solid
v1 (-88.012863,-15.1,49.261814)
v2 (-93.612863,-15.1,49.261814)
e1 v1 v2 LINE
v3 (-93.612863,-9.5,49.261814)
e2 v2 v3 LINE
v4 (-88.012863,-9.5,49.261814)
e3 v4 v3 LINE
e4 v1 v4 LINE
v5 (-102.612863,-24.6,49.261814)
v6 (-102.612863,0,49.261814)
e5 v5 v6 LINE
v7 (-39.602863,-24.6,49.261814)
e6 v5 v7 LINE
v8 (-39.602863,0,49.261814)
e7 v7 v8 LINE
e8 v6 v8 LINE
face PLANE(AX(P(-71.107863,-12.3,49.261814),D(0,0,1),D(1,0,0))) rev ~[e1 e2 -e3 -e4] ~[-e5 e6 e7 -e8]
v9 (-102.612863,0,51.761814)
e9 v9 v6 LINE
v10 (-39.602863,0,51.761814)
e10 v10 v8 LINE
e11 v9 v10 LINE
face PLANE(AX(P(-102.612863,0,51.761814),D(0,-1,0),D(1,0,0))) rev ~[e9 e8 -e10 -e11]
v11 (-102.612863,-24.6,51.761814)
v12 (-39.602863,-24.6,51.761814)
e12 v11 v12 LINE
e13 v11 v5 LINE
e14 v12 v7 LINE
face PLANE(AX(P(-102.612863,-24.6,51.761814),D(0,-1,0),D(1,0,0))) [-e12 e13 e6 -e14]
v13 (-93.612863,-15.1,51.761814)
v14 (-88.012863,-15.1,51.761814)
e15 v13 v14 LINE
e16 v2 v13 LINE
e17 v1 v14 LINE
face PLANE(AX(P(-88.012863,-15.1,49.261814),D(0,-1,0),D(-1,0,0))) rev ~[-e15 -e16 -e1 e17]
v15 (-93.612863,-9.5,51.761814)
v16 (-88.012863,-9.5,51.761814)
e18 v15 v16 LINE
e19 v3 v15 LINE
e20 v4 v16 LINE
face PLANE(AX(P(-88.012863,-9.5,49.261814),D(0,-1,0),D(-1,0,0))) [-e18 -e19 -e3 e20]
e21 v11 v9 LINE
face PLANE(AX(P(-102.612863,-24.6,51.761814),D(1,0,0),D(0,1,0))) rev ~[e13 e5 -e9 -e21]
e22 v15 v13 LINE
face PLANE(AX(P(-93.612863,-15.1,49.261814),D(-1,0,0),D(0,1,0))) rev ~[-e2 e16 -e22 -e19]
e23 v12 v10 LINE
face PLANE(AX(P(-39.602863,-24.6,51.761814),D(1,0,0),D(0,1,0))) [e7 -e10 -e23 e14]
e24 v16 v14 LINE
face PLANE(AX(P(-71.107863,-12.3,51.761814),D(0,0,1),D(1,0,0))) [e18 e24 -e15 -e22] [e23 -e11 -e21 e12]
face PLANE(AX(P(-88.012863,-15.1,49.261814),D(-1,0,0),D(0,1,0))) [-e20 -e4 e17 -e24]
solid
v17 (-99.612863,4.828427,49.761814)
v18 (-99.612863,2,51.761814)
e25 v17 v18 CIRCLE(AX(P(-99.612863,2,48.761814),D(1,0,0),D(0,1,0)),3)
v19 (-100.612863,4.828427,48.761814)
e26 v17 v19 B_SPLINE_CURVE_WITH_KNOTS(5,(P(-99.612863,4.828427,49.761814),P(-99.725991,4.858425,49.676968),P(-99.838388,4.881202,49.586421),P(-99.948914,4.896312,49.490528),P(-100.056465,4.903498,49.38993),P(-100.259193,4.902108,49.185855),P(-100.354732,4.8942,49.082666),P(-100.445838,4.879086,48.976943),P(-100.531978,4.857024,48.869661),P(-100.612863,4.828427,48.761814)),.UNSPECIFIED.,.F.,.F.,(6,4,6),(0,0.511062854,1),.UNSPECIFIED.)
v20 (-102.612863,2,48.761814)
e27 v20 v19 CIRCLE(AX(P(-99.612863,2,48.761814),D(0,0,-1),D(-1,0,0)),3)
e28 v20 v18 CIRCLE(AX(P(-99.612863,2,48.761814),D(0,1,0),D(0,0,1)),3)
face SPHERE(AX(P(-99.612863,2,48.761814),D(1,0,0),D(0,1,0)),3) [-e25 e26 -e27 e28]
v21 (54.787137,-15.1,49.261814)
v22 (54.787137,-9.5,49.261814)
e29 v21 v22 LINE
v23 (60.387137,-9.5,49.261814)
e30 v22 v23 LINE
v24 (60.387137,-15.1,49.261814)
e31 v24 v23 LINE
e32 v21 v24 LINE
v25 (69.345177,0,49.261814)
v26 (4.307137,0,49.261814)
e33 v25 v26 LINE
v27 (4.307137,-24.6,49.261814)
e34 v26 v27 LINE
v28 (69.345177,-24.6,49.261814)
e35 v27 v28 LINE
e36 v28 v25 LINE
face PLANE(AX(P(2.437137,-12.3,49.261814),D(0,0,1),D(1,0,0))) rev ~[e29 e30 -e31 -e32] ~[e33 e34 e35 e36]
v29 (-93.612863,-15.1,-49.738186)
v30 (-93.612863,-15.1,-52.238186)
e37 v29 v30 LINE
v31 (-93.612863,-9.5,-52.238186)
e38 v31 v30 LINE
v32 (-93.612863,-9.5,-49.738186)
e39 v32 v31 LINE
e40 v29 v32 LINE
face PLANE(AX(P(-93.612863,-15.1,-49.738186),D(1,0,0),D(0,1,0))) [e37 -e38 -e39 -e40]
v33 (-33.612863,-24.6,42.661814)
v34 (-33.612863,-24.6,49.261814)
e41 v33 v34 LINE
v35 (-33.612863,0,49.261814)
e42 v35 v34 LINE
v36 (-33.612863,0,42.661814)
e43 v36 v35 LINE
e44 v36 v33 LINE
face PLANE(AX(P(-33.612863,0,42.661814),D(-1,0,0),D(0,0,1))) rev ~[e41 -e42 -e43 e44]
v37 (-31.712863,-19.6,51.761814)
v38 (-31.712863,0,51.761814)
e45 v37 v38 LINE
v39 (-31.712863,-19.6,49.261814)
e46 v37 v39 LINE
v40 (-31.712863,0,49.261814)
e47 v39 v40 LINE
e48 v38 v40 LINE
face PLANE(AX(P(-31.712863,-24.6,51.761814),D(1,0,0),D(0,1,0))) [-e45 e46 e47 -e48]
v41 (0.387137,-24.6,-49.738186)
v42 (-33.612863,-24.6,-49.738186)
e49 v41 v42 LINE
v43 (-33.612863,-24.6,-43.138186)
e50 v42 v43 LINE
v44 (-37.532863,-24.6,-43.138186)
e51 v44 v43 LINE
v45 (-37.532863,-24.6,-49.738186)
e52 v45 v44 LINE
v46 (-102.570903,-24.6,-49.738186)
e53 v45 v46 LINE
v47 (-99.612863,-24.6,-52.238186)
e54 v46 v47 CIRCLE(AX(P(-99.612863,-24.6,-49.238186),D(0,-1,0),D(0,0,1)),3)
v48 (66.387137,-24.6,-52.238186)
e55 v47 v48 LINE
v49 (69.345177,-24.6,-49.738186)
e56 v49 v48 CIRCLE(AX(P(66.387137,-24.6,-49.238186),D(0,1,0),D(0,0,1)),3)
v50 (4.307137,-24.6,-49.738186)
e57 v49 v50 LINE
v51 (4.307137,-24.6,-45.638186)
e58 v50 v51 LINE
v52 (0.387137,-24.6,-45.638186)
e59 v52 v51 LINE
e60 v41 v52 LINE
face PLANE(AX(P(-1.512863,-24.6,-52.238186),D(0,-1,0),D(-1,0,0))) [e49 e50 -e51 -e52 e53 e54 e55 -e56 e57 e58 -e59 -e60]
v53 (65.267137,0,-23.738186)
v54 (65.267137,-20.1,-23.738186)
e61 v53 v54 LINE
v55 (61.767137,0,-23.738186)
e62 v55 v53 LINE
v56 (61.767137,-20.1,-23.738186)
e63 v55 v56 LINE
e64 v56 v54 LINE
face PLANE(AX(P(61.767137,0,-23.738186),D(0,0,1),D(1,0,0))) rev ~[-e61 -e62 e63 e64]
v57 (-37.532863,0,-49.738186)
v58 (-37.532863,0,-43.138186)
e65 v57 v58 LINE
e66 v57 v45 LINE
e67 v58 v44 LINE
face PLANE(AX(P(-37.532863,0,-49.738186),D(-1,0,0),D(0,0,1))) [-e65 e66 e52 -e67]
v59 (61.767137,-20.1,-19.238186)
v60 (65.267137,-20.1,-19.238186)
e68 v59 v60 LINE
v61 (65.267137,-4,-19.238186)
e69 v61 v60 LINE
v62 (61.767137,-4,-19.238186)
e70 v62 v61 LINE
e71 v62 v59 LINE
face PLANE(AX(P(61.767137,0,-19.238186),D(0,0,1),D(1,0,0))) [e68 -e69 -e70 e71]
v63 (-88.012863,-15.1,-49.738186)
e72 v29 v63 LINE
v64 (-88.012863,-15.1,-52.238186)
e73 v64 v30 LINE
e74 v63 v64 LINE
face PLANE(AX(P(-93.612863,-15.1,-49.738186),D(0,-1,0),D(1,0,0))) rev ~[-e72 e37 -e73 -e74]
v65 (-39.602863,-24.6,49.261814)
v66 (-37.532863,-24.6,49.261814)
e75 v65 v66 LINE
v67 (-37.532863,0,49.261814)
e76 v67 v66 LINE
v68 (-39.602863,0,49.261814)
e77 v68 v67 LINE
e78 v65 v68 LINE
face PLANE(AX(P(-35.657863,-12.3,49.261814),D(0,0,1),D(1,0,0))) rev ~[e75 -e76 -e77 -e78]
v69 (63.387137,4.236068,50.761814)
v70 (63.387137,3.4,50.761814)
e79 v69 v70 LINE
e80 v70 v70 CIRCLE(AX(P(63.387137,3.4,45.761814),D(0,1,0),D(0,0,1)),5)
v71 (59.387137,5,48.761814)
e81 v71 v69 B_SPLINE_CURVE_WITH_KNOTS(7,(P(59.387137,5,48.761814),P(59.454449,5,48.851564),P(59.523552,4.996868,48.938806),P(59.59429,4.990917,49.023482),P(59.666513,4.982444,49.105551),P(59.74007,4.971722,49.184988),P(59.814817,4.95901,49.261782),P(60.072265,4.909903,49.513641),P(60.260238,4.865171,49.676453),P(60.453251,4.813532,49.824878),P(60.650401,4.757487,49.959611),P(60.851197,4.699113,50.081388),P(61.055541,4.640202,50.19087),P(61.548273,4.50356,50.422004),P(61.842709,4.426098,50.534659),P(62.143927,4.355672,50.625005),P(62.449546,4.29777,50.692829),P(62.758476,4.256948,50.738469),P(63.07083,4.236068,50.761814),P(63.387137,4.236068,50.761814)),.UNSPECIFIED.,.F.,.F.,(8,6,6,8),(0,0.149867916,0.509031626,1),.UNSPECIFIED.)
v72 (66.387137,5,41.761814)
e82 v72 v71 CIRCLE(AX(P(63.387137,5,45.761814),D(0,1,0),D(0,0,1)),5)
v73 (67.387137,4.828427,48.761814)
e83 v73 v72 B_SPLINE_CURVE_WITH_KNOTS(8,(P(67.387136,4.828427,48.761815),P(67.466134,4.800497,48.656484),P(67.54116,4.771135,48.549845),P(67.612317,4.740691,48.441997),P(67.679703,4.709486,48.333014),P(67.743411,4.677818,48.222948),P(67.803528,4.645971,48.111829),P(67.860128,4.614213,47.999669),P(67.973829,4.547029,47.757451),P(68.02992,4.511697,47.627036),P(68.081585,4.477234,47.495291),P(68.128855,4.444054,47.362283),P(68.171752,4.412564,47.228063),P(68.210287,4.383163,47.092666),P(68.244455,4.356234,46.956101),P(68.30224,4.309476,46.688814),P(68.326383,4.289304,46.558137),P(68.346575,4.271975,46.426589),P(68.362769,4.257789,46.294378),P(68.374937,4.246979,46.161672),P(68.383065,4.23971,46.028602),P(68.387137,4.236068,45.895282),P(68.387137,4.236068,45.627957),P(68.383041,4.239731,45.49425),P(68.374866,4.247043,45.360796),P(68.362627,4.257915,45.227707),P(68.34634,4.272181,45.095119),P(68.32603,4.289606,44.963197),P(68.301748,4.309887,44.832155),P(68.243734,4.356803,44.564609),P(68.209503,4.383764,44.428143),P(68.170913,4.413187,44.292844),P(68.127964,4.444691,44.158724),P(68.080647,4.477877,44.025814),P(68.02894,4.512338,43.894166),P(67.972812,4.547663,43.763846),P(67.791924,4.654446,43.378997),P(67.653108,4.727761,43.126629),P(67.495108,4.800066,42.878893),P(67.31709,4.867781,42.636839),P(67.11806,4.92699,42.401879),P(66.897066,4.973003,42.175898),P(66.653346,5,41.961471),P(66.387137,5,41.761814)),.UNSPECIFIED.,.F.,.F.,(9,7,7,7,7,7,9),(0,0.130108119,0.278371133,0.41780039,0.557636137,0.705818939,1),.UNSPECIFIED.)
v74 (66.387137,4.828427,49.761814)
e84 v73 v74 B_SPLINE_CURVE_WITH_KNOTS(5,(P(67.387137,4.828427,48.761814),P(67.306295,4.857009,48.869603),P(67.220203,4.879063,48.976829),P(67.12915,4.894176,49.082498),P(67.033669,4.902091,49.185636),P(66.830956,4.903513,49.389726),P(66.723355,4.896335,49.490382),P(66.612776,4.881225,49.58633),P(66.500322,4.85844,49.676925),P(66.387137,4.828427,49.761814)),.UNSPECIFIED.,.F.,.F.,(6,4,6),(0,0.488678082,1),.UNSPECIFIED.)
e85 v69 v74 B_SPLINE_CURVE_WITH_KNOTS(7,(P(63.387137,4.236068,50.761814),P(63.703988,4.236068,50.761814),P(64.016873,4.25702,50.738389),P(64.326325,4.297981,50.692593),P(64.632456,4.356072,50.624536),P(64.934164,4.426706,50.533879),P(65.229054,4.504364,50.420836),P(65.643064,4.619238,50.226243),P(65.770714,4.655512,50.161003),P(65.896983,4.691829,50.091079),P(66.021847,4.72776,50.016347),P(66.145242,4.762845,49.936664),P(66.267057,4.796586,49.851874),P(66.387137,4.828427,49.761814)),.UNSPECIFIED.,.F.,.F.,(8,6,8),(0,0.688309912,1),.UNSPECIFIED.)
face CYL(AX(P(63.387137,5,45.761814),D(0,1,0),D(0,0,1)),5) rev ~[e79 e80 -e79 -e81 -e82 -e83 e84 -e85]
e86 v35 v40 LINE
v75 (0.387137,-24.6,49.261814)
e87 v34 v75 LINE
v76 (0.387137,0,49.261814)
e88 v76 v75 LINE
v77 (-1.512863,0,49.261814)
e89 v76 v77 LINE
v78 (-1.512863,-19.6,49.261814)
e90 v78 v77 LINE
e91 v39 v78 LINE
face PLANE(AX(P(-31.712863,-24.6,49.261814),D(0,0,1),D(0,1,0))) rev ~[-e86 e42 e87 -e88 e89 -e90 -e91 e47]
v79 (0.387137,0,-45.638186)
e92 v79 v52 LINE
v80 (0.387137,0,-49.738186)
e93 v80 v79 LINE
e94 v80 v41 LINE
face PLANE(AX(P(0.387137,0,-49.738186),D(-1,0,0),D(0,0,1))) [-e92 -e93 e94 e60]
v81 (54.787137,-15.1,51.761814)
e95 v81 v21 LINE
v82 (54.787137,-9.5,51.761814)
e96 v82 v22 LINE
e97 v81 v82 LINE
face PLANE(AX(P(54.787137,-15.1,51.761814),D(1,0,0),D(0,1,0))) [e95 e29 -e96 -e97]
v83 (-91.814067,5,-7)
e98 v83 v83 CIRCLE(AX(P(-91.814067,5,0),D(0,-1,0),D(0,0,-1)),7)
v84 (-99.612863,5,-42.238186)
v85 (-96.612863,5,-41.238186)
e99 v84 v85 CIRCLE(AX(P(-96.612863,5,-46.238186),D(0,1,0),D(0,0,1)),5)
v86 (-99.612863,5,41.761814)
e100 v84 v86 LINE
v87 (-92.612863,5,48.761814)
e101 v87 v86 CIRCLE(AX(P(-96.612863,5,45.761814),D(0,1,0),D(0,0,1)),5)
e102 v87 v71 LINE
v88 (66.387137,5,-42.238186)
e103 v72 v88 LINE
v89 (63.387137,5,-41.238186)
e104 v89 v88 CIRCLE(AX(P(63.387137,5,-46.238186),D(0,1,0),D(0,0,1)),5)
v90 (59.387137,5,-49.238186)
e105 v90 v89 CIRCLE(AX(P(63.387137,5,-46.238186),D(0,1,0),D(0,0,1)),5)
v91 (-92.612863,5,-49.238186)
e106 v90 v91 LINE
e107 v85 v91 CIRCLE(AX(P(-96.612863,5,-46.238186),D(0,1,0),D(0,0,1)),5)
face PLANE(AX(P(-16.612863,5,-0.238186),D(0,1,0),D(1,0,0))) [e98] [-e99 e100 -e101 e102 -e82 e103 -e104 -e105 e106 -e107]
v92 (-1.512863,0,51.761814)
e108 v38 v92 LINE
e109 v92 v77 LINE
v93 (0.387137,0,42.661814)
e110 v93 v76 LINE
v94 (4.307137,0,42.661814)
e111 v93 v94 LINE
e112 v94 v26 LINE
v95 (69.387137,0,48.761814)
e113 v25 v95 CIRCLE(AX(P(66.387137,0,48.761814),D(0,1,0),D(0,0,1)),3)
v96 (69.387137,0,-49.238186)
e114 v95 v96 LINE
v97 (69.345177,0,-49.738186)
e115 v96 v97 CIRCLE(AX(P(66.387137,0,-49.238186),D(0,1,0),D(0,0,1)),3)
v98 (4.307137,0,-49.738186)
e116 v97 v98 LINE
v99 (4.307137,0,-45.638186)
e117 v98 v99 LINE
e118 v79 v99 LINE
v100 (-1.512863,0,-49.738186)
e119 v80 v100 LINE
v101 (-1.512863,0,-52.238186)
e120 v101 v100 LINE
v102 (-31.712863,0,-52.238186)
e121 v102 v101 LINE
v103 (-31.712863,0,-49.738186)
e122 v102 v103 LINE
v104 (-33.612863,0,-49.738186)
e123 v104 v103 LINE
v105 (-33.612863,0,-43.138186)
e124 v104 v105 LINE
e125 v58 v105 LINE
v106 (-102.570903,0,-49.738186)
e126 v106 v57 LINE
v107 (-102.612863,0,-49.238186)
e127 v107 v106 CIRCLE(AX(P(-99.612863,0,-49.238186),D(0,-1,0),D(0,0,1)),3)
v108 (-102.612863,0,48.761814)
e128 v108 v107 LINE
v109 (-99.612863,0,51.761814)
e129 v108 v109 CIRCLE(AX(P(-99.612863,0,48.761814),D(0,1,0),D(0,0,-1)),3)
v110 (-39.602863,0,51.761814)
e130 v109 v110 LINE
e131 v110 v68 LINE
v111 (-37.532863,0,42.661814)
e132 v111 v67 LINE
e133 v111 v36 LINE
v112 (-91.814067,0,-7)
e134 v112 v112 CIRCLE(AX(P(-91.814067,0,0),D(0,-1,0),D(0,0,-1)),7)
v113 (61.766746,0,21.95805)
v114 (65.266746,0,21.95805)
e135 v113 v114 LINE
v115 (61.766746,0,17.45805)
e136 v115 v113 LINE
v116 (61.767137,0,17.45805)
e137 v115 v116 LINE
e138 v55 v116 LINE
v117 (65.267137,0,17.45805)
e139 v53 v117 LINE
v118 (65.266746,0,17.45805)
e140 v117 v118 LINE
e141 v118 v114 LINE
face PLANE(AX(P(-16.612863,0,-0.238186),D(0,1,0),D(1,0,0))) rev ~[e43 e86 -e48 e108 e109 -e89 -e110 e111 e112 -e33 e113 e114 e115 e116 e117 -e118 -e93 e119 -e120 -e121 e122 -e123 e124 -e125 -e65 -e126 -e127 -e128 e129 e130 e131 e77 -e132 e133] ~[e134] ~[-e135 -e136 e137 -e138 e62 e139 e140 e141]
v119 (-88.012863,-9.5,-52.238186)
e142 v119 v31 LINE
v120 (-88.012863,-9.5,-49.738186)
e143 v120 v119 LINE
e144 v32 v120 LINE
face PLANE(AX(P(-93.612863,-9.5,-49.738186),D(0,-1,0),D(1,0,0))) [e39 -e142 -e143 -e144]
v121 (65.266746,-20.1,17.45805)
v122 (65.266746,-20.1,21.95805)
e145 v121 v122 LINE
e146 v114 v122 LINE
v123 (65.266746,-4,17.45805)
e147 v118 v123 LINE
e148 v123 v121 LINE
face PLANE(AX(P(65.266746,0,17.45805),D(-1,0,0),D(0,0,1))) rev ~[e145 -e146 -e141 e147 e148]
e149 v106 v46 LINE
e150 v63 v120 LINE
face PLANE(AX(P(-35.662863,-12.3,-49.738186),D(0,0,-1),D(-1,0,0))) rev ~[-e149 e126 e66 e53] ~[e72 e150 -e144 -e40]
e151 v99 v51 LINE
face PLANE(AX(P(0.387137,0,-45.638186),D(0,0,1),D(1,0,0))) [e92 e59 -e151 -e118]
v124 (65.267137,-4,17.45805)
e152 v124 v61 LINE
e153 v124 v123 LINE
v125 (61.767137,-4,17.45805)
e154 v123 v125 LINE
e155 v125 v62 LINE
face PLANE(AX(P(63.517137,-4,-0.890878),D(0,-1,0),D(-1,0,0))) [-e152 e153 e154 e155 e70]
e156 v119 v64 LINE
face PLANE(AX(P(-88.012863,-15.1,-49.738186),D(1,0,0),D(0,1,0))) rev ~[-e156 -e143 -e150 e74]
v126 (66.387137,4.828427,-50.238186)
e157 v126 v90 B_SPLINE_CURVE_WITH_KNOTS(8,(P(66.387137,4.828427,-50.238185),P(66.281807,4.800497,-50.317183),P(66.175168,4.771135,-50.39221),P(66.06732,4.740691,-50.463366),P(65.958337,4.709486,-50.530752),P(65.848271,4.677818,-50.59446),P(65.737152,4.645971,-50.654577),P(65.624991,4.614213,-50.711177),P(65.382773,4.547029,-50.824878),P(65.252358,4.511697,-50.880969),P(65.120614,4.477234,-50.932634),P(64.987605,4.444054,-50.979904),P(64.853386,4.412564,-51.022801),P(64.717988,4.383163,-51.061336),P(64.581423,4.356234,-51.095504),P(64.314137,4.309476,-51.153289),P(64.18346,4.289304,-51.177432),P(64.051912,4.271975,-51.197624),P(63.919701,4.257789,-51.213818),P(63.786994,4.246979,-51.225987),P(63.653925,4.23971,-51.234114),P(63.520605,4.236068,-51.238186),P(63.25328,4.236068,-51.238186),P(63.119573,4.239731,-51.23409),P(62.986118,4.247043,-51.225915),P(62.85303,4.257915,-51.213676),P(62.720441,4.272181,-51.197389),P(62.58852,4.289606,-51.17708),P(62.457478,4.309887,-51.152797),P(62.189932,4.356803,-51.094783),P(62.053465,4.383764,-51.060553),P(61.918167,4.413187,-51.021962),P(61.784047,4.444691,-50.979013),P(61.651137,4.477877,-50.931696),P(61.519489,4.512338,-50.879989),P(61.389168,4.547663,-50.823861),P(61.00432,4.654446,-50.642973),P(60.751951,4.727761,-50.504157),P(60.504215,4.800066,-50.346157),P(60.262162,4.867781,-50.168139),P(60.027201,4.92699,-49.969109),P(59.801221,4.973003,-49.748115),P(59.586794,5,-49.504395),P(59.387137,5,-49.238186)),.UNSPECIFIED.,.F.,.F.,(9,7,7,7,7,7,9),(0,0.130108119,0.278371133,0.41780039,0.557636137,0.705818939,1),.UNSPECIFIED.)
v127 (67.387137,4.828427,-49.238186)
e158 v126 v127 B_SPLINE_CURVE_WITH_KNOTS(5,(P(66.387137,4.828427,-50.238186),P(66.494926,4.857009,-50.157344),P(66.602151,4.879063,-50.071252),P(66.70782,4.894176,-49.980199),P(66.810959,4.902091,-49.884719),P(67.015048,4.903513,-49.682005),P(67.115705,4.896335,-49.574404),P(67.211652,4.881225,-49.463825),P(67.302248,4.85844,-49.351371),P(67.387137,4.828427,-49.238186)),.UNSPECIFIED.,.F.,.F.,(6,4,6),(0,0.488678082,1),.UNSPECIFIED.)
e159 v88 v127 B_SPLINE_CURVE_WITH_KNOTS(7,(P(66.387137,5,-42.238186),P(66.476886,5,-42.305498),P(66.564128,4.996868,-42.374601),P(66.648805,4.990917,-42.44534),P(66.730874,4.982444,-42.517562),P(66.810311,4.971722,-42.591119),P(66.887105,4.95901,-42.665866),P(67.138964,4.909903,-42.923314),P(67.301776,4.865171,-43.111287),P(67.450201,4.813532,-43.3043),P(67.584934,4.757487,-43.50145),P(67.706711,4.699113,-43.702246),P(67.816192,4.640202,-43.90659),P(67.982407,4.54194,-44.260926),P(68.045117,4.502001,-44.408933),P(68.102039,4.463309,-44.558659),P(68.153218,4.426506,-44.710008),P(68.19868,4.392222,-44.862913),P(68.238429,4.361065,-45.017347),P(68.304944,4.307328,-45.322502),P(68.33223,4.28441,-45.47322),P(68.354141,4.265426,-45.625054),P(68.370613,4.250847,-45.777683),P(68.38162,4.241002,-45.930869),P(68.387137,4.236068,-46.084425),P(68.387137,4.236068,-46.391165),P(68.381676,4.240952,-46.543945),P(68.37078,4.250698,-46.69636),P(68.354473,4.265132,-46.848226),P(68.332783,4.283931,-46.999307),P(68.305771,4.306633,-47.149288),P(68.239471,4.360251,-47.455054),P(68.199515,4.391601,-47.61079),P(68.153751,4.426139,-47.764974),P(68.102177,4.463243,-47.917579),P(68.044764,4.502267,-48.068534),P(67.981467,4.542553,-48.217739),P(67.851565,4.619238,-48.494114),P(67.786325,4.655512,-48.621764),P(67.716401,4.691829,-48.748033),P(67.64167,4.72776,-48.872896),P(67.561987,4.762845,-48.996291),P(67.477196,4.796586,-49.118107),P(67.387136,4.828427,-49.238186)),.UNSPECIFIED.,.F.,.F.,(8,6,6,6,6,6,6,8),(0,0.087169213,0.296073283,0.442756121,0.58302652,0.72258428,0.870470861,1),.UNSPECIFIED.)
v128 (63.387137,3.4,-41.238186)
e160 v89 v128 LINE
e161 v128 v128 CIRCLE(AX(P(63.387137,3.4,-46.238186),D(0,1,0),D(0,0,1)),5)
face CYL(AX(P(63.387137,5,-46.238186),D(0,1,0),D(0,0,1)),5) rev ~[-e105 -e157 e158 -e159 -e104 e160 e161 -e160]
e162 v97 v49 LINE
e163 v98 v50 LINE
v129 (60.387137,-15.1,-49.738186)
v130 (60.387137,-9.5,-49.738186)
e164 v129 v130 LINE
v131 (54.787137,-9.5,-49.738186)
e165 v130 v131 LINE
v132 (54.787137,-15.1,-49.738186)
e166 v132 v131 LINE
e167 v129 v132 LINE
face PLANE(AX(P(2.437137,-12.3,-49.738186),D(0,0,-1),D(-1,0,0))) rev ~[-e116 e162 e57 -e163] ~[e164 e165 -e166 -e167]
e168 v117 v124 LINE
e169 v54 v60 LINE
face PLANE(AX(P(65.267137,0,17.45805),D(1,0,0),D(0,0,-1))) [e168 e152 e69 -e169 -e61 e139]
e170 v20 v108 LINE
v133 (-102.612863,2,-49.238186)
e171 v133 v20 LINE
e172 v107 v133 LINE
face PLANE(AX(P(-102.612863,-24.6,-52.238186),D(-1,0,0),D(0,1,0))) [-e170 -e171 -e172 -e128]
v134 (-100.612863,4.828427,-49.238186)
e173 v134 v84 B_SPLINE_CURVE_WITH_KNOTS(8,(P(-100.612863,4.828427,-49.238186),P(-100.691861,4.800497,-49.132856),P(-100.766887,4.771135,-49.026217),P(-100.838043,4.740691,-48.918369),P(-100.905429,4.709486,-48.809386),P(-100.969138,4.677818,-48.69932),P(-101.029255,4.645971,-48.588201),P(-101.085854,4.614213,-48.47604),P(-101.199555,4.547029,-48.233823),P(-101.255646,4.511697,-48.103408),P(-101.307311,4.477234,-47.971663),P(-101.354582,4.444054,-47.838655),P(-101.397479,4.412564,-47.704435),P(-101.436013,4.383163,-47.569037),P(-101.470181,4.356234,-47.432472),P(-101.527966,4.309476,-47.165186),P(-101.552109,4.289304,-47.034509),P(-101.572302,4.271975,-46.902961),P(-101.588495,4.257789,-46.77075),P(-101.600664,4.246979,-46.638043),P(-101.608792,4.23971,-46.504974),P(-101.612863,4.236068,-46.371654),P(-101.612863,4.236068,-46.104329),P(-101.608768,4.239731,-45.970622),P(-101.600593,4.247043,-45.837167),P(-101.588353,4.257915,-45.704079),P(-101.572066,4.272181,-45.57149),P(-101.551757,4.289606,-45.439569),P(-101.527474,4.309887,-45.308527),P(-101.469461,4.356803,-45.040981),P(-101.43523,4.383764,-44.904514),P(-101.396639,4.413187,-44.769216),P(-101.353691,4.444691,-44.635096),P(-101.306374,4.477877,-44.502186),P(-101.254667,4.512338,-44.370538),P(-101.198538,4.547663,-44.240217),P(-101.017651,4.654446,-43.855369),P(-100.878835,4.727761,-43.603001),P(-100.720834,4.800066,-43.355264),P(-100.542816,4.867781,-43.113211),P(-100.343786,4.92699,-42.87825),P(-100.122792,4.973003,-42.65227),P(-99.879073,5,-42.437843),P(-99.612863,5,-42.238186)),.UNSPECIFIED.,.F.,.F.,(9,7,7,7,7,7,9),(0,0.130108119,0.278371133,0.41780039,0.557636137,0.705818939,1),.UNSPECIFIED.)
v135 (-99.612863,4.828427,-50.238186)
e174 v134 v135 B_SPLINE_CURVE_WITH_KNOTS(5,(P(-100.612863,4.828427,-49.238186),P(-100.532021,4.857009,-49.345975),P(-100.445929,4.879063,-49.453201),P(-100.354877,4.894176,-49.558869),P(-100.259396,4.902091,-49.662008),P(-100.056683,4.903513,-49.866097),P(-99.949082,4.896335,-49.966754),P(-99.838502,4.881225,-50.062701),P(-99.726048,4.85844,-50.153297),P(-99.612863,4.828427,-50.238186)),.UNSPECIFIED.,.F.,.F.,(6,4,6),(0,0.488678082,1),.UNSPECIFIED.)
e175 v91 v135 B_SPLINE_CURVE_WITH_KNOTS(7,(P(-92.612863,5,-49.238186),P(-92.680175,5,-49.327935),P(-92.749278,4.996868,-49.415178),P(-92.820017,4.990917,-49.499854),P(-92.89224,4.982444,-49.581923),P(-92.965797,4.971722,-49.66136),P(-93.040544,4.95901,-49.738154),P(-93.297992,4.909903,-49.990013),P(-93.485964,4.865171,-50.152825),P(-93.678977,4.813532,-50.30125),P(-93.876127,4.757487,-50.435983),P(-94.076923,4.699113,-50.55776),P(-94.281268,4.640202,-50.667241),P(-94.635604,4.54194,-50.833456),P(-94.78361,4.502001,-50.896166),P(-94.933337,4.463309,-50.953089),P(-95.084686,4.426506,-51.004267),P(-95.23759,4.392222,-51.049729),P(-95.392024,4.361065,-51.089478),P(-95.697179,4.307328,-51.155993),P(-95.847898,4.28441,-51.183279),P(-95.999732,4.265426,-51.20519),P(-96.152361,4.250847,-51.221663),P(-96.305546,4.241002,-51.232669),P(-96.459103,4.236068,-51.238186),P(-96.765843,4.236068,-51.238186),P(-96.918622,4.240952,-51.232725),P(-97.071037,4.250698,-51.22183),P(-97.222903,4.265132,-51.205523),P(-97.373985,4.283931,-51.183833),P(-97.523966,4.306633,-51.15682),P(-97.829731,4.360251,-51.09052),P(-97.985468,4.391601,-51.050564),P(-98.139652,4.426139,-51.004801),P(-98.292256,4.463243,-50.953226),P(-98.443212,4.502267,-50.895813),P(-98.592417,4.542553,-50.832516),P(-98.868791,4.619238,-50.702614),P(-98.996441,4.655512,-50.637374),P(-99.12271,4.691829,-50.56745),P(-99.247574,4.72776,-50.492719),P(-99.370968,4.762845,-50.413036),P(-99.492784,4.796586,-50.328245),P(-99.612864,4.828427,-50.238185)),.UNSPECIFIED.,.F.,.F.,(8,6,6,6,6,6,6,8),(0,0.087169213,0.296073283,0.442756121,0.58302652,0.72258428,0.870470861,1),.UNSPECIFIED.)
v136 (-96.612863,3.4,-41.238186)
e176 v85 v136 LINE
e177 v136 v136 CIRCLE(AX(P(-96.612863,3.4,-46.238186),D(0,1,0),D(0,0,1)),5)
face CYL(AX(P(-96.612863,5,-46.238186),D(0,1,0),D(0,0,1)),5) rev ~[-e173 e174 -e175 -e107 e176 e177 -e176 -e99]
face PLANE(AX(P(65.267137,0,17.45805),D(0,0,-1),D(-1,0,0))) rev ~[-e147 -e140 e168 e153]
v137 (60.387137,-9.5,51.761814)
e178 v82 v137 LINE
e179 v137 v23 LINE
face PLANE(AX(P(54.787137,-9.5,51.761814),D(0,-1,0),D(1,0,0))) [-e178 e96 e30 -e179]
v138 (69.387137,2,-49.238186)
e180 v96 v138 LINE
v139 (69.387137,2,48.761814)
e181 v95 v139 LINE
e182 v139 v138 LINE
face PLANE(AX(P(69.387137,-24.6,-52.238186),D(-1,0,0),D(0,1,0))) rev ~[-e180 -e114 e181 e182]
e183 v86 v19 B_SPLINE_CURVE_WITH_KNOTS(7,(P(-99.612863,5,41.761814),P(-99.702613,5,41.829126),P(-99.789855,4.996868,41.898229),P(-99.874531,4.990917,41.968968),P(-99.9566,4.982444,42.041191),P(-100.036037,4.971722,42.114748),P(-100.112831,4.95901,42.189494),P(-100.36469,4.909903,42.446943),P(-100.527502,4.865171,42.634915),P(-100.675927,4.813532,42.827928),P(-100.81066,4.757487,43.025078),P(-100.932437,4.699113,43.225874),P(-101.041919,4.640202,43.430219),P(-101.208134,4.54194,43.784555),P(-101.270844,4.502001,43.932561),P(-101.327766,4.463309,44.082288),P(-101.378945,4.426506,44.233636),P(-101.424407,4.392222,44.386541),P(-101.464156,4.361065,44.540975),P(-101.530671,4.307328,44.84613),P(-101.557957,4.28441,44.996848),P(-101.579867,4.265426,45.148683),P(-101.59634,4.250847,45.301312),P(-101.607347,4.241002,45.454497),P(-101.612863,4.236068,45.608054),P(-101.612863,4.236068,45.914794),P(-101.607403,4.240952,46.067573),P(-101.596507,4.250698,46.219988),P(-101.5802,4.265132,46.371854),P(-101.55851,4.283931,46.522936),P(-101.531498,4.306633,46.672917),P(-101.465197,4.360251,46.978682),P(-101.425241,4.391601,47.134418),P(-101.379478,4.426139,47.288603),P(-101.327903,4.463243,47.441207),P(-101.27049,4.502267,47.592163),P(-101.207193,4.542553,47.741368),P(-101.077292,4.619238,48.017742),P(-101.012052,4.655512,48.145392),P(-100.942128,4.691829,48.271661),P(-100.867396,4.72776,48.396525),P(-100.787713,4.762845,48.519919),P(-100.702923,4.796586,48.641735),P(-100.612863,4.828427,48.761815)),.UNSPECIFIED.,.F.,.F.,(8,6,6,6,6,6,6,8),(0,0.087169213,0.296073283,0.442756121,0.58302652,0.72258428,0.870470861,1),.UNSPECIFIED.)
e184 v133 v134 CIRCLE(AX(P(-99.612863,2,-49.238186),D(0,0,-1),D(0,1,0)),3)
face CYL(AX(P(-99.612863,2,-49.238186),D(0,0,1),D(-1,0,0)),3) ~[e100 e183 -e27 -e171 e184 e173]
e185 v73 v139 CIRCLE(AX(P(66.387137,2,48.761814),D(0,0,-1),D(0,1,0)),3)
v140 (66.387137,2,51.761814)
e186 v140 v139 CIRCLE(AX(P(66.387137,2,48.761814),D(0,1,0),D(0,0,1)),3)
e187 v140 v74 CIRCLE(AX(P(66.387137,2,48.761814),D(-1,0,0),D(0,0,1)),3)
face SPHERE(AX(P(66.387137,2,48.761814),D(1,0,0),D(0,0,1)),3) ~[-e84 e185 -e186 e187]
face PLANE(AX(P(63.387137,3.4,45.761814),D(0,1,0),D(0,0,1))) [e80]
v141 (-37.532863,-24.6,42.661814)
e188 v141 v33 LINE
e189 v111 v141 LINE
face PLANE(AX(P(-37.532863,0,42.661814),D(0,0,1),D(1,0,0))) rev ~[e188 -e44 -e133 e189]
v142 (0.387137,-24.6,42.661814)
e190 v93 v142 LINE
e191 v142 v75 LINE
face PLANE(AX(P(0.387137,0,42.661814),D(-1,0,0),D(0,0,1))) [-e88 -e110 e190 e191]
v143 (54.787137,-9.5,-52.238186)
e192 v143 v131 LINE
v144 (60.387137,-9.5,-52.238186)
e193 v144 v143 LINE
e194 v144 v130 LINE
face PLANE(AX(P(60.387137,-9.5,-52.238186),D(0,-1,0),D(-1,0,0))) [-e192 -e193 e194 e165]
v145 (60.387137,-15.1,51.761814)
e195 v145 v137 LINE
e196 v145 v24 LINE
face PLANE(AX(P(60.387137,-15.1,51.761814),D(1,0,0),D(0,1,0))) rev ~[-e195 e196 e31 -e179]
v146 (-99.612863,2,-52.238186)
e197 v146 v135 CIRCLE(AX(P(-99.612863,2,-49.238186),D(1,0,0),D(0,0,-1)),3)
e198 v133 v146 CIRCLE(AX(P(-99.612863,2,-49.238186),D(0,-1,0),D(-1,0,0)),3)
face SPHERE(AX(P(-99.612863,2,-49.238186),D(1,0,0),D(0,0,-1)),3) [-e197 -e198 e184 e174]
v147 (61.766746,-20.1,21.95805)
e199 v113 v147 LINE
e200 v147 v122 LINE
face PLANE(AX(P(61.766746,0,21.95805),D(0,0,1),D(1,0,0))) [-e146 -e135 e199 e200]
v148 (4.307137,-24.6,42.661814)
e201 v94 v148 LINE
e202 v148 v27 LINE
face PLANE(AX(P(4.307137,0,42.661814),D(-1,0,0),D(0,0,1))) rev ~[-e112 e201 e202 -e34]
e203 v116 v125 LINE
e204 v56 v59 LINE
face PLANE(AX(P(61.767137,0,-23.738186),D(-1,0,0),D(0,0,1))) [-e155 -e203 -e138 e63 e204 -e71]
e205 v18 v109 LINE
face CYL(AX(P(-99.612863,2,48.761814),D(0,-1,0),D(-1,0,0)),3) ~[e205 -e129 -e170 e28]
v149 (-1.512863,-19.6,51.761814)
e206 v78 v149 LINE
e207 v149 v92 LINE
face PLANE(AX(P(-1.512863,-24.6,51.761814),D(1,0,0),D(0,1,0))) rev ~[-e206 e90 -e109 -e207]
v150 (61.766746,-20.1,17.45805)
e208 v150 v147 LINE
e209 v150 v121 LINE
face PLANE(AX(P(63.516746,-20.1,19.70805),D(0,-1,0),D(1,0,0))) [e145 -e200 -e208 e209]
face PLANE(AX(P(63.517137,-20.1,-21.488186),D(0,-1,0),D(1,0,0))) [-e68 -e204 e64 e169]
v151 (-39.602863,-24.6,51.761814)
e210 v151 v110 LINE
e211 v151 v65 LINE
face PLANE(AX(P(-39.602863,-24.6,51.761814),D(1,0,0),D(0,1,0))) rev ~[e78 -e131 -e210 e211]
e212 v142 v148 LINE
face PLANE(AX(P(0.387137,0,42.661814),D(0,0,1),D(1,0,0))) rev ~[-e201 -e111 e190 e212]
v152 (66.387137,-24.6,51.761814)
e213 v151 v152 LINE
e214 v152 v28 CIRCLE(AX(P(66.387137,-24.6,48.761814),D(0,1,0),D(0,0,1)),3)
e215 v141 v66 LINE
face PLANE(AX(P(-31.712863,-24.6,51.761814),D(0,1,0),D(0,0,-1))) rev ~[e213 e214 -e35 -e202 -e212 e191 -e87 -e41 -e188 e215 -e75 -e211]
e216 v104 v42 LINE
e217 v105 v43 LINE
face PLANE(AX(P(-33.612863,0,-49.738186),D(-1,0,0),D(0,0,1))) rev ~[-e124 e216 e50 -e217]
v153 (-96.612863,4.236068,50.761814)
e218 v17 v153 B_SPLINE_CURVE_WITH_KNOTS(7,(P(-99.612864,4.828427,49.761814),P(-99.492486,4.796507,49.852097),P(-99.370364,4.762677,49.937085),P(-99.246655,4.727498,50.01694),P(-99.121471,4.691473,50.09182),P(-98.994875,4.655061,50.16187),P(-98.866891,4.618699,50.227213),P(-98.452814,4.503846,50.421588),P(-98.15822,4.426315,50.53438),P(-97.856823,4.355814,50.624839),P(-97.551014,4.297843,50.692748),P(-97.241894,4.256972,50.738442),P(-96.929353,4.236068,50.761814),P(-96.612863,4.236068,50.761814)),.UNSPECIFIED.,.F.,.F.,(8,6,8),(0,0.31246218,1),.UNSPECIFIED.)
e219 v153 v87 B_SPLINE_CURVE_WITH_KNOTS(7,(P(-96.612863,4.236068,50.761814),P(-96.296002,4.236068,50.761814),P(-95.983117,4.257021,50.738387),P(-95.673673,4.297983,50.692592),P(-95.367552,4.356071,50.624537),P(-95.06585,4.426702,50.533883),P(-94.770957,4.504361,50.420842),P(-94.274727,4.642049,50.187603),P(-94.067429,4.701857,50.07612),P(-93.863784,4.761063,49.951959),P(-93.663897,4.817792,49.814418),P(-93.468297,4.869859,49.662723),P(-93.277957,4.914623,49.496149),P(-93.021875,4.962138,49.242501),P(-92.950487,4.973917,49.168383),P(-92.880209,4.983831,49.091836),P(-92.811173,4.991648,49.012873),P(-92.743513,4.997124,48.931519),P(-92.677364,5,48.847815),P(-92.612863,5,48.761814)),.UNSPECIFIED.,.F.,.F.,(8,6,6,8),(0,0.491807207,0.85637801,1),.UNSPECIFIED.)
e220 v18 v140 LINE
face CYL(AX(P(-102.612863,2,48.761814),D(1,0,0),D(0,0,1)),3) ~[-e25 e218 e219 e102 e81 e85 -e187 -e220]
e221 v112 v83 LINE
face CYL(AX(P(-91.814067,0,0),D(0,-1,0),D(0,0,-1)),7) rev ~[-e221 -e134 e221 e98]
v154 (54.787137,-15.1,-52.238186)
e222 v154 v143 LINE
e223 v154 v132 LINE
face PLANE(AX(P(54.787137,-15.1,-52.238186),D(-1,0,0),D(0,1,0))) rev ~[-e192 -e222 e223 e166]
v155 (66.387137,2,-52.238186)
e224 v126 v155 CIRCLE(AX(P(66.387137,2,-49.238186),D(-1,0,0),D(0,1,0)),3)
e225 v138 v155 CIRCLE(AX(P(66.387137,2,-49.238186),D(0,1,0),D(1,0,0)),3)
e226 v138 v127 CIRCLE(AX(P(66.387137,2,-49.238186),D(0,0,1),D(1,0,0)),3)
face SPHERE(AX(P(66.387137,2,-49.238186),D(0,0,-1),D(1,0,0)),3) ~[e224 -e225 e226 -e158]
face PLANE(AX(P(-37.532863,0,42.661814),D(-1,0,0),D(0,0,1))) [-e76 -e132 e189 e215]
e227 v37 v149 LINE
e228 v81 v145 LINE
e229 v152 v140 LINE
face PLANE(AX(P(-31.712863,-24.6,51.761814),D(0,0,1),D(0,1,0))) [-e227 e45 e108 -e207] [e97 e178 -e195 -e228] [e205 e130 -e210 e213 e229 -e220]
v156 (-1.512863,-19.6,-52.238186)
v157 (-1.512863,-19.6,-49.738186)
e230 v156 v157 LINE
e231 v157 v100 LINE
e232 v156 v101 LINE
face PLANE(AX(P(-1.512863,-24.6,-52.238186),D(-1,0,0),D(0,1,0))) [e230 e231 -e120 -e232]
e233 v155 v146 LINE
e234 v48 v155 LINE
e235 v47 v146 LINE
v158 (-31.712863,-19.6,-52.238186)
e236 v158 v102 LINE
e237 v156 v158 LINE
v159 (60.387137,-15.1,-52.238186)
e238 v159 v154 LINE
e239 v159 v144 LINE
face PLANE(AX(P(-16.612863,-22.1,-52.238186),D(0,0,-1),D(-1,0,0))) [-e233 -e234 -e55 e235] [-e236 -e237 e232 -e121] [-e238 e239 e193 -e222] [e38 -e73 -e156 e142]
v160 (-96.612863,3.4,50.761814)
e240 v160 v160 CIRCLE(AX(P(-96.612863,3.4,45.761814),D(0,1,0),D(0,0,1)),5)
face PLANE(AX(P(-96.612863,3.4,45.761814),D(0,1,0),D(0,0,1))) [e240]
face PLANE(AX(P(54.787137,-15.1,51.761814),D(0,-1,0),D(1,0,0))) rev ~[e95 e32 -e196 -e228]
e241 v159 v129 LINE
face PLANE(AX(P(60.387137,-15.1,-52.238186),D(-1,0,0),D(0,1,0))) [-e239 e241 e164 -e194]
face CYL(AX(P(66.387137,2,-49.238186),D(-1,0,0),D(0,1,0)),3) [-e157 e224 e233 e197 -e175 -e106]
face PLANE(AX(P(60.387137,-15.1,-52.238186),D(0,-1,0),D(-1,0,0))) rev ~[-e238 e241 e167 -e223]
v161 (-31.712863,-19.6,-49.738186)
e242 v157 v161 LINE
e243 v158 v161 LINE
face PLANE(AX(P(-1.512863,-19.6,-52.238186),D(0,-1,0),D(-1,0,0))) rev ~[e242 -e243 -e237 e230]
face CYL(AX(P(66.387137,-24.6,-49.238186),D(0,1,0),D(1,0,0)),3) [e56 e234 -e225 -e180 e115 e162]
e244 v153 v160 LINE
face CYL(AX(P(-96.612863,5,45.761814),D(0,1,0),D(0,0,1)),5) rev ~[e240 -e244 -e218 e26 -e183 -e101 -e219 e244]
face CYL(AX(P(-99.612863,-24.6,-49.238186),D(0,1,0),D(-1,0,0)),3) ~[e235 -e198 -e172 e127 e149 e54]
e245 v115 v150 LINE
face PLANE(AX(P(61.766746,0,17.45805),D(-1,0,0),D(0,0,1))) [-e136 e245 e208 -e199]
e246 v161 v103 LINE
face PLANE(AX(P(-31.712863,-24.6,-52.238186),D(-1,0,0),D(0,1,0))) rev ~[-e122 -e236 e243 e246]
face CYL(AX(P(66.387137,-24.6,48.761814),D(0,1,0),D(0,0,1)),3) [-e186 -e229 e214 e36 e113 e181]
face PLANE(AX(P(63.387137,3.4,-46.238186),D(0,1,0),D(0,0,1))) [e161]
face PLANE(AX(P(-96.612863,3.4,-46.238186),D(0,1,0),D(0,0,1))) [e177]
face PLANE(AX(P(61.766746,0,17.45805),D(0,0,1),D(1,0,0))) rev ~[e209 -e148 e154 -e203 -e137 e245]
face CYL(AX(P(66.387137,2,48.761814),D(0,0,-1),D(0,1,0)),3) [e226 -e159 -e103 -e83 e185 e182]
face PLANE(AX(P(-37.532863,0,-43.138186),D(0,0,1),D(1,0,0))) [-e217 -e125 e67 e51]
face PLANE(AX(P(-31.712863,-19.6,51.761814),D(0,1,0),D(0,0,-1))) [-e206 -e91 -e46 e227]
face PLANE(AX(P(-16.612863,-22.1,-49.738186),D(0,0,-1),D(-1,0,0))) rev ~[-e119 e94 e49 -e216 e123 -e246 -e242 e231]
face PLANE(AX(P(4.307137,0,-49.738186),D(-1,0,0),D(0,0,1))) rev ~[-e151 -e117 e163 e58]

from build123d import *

# Parameters (mm, degrees)
ESBO_O1_W                 = 172
ESBO_O1_H                 = 104
RESSALTO_EXTRUS_O1_DEPTH  = 5
ESBO_O6_W                 = 63.01
ESBO_O6_H                 = 24.6
RESSALTO_EXTRUS_O3_DEPTH  = 2.5
ESBO_O9_W                 = 5.6
ESBO_O9_H                 = 5.6
CORTE_EXTRUS_O1_DEPTH     = 5
ESBO_O10_W                = 63
ESBO_O10_H                = 24.6
RESSALTO_EXTRUS_O4_DEPTH  = 2.5
ESBO_O11_W                = 5.6
ESBO_O11_H                = 5.6
CORTE_EXTRUS_O2_DEPTH     = 5
ESBO_O12_W                = 63
ESBO_O12_H                = 24.6
RESSALTO_EXTRUS_O5_DEPTH  = 2.5
ESBO_O15_W                = 63
ESBO_O15_H                = 24.6
RESSALTO_EXTRUS_O6_DEPTH  = 2.5
ESBO_O18_W                = 5.6
ESBO_O18_H                = 5.6
CORTE_EXTRUS_O5_DEPTH     = 10
ESBO_O19_W                = 5.6
ESBO_O19_H                = 5.6
CORTE_EXTRUS_O6_DEPTH     = 10
ESBO_O20_W                = 7.9
ESBO_O20_H                = 24.6
RESSALTO_EXTRUS_O7_DEPTH  = 2.5
ESBO_O21_W                = 7.89
ESBO_O21_H                = 24.6
RESSALTO_EXTRUS_O8_DEPTH  = 2.5
ESBO_O25_W                = 3.92
ESBO_O25_H                = 6.6
RESSALTO_EXTRUS_O9_DEPTH  = 24.6
ESBO_O27_W                = 3.92
ESBO_O27_H                = 6.6
RESSALTO_EXTRUS_O10_DEPTH = 24.6
ESBO_O28_W                = 2.5
ESBO_O28_H                = 5
RESSALTO_EXTRUS_O11_DEPTH = 30.6
ESBO_O29_W                = 7.9
ESBO_O29_H                = 24.6
RESSALTO_EXTRUS_O12_DEPTH = 2.5
ESBO_O30_W                = 7.9
ESBO_O30_H                = 24.6
RESSALTO_EXTRUS_O13_DEPTH = 2.5
ESBO_O31_W                = 3.92
ESBO_O31_H                = 6.6
RESSALTO_EXTRUS_O14_DEPTH = 24.6
ESBO_O32_W                = 3.92
ESBO_O32_H                = 4.1
RESSALTO_EXTRUS_O15_DEPTH = 24.6
ESBO_O34_W                = 30.2
ESBO_O34_H                = 5
RESSALTO_EXTRUS_O16_DEPTH = 2.5
FILETE3_R                 = 3
FILETE4_R                 = 3
FILETE5_R                 = 3
FILETE6_R                 = 3
ESBO_O53_R                = 7
CORTE_EXTRUS_O12_DEPTH    = 134
ESBO_O55_W                = 3.5
ESBO_O55_H                = 4.5
RESSALTO_EXTRUS_O29_DEPTH = 20.1
ESBO_O57_W                = 3.5
ESBO_O57_H                = 4.5
RESSALTO_EXTRUS_O30_DEPTH = 20.1
ESBO_O58_W                = 3.5
ESBO_O58_H                = 36.697857
RESSALTO_EXTRUS_O31_DEPTH = 4
ESBO_O49_R                = 5
CORTE_EXTRUS_O13_DEPTH    = 1.6
ESBO_O47_R                = 5
CORTE_EXTRUS_O14_DEPTH    = 1.6
ESBO_O44_R                = 5
CORTE_EXTRUS_O15_DEPTH    = 1.6
ESBO_O48_R                = 5
CORTE_EXTRUS_O16_DEPTH    = 1.6


with BuildPart() as part:
    # Esboço1 → Ressalto-extrusão1 (new body)
    with BuildSketch(Plane(origin=(0, 0, 0), x_dir=(1, 0, 0), z_dir=(0, 1, 0))):
        with Locations((-16.61286323, 0.238185856)):
            Rectangle(ESBO_O1_W, ESBO_O1_H)
    extrude(amount=RESSALTO_EXTRUS_O1_DEPTH)



with BuildPart() as body_2:
    # Esboço6 → Ressalto-extrusão3 (new body)
    with BuildSketch(Plane.XY.offset(51.761814144)):
        with Locations((-71.10786323, -12.3)):
            Rectangle(ESBO_O6_W, ESBO_O6_H)
    extrude(amount=-RESSALTO_EXTRUS_O3_DEPTH)

    # Esboço9 → Corte-extrusão1 (cut)
    with BuildSketch(Plane(origin=(0, 0, 49.261814144), x_dir=(-1, 0, 0), z_dir=(0, 0, -1))):
        with Locations((90.81286323, -12.3)):
            Rectangle(ESBO_O9_W, ESBO_O9_H)
    extrude(amount=-CORTE_EXTRUS_O1_DEPTH, mode=Mode.SUBTRACT)


with BuildPart() as body_3:
    # Esboço10 → Ressalto-extrusão4 (new body)
    with BuildSketch(Plane(origin=(0, 0, -52.238185856), x_dir=(-1, 0, 0), z_dir=(0, 0, -1))):
        with Locations((71.11286323, -12.3)):
            Rectangle(ESBO_O10_W, ESBO_O10_H)
    extrude(amount=-RESSALTO_EXTRUS_O4_DEPTH)

    # Esboço11 → Corte-extrusão2 (cut)
    with BuildSketch(Plane.XY.offset(-49.738185856)):
        with Locations((-90.81286323, -12.3)):
            Rectangle(ESBO_O11_W, ESBO_O11_H)
    extrude(amount=-CORTE_EXTRUS_O2_DEPTH, mode=Mode.SUBTRACT)


with BuildPart() as body_4:
    # Esboço12 → Ressalto-extrusão5 (new body)
    with BuildSketch(Plane(origin=(0, 0, -52.238185856), x_dir=(-1, 0, 0), z_dir=(0, 0, -1))):
        with Locations((-37.88713677, -12.3)):
            Rectangle(ESBO_O12_W, ESBO_O12_H)
    extrude(amount=-RESSALTO_EXTRUS_O5_DEPTH)

    # Esboço18 → Corte-extrusão5 (cut)
    with BuildSketch(Plane(origin=(0, 0, -52.238185856), x_dir=(-1, 0, 0), z_dir=(0, 0, -1))):
        with Locations((-57.58713677, -12.3)):
            Rectangle(ESBO_O18_W, ESBO_O18_H)
    extrude(amount=-CORTE_EXTRUS_O5_DEPTH, mode=Mode.SUBTRACT)


with BuildPart() as body_5:
    # Esboço15 → Ressalto-extrusão6 (new body)
    with BuildSketch(Plane.XY.offset(51.761814144)):
        with Locations((37.88713677, -12.3)):
            Rectangle(ESBO_O15_W, ESBO_O15_H)
    extrude(amount=-RESSALTO_EXTRUS_O6_DEPTH)

    # Esboço19 → Corte-extrusão6 (cut)
    with BuildSketch(Plane.XY.offset(51.761814144)):
        with Locations((57.58713677, -12.3)):
            Rectangle(ESBO_O19_W, ESBO_O19_H)
    extrude(amount=-CORTE_EXTRUS_O6_DEPTH, mode=Mode.SUBTRACT)


with BuildPart() as part_1:
    add(part.part)

    add(body_5.part)  # Ressalto-extrusão7 merges body 5
    # Esboço20 → Ressalto-extrusão7 (add)
    with BuildSketch(Plane.XY.offset(51.761814144)):
        with Locations((2.43713677, -12.3)):
            Rectangle(ESBO_O20_W, ESBO_O20_H)
    extrude(amount=-RESSALTO_EXTRUS_O7_DEPTH)

    # Esboço25 → Ressalto-extrusão9 (add)
    with BuildSketch(Plane.XZ):
        with Locations((2.34713677, 45.961814144)):
            Rectangle(ESBO_O25_W, ESBO_O25_H)
    extrude(amount=RESSALTO_EXTRUS_O9_DEPTH)



with BuildPart() as body_5_2:
    # Esboço21 → Ressalto-extrusão8 (new body)
    with BuildSketch(Plane.XY.offset(51.761814144)):
        with Locations((-35.65786323, -12.3)):
            Rectangle(ESBO_O21_W, ESBO_O21_H)
    extrude(amount=-RESSALTO_EXTRUS_O8_DEPTH)


with BuildPart() as part_2:
    add(part_1.part)

    add(body_5_2.part)  # Ressalto-extrusão10 merges body 5 2
    # Esboço27 → Ressalto-extrusão10 (add)
    with BuildSketch(Plane.XZ):
        with Locations((-35.57286323, 45.961814144)):
            Rectangle(ESBO_O27_W, ESBO_O27_H)
    extrude(amount=RESSALTO_EXTRUS_O10_DEPTH)

    # Esboço28 → Ressalto-extrusão11 (add)
    with BuildSketch(Plane(origin=(-31.71286323, 0, 0), x_dir=(0, 0, -1), z_dir=(1, 0, 0))):
        with Locations((-50.511814144, -22.1)):
            Rectangle(ESBO_O28_W, ESBO_O28_H)
    extrude(amount=RESSALTO_EXTRUS_O11_DEPTH)


    add(body_3.part)  # Ressalto-extrusão12 merges body 3
    # Esboço29 → Ressalto-extrusão12 (add)
    with BuildSketch(Plane(origin=(0, 0, -52.238185856), x_dir=(-1, 0, 0), z_dir=(0, 0, -1))):
        with Locations((35.66286323, -12.3)):
            Rectangle(ESBO_O29_W, ESBO_O29_H)
    extrude(amount=-RESSALTO_EXTRUS_O12_DEPTH)


    add(body_4.part)  # Ressalto-extrusão13 merges body 4
    # Esboço30 → Ressalto-extrusão13 (add)
    with BuildSketch(Plane(origin=(0, 0, -52.238185856), x_dir=(-1, 0, 0), z_dir=(0, 0, -1))):
        with Locations((-2.43713677, -12.3)):
            Rectangle(ESBO_O30_W, ESBO_O30_H)
    extrude(amount=-RESSALTO_EXTRUS_O13_DEPTH)

    # Esboço31 → Ressalto-extrusão14 (add)
    with BuildSketch(Plane.XZ):
        with Locations((-35.57286323, -46.438185856)):
            Rectangle(ESBO_O31_W, ESBO_O31_H)
    extrude(amount=RESSALTO_EXTRUS_O14_DEPTH)

    # Esboço32 → Ressalto-extrusão15 (add)
    with BuildSketch(Plane.XZ):
        with Locations((2.34713677, -47.688185856)):
            Rectangle(ESBO_O32_W, ESBO_O32_H)
    extrude(amount=RESSALTO_EXTRUS_O15_DEPTH)

    # Esboço34 → Ressalto-extrusão16 (add)
    with BuildSketch(Plane(origin=(0, 0, -52.238185856), x_dir=(-1, 0, 0), z_dir=(0, 0, -1))):
        with Locations((16.61286323, -22.1)):
            Rectangle(ESBO_O34_W, ESBO_O34_H)
    extrude(amount=-RESSALTO_EXTRUS_O16_DEPTH)

    # Filete3
    filete3_edges = [part_2.edges().sort_by_distance(p)[0] for p in [
        (-16.61286323, 5, 51.761814144),
    ]]
    fillet(filete3_edges, radius=FILETE3_R)

    # Filete4
    filete4_edges = [part_2.edges().sort_by_distance(p)[0] for p in [
        (69.38713677, -11.3, 51.761814144),
        (69.38713677, 4.121320344, 50.883134488),
        (69.38713677, 5, -1.738185856),
    ]]
    fillet(filete4_edges, radius=FILETE4_R)

    # Filete5
    filete5_edges = [part_2.edges().sort_by_distance(p)[0] for p in [
        (69.38713677, -11.3, -52.238185856),
        (68.508457113, 4.121320344, -52.238185856),
        (-18.11286323, 5, -52.238185856),
    ]]
    fillet(filete5_edges, radius=FILETE5_R)

    # Filete6
    filete6_edges = [part_2.edges().sort_by_distance(p)[0] for p in [
        (-102.61286323, -11.3, -52.238185856),
        (-102.61286323, 4.121320344, -51.359506199),
        (-102.61286323, 1, 51.761814144),
        (-102.61286323, 4.121320344, 50.883134488),
        (-102.61286323, 5, -0.238185856),
    ]]
    fillet(filete6_edges, radius=FILETE6_R)

    # Esboço53 → Corte-extrusão12 (cut)
    with BuildSketch(Plane.XZ):
        with Locations(Location((-91.814067068, 0, 0), (0, 0, 270))):
            Circle(ESBO_O53_R)
    extrude(amount=-CORTE_EXTRUS_O12_DEPTH, mode=Mode.SUBTRACT)

    # Esboço55 → Ressalto-extrusão29 (add)
    with BuildSketch(Plane.XZ):
        with Locations((63.516746102, 19.708050032)):
            Rectangle(ESBO_O55_W, ESBO_O55_H)
    extrude(amount=RESSALTO_EXTRUS_O29_DEPTH)

    # Esboço57 → Ressalto-extrusão30 (add)
    with BuildSketch(Plane.XZ):
        with Locations((63.51713677, -21.488185856)):
            Rectangle(ESBO_O57_W, ESBO_O57_H)
    extrude(amount=RESSALTO_EXTRUS_O30_DEPTH)

    # Esboço58 → Ressalto-extrusão31 (add)
    with BuildSketch(Plane(origin=(0, 0, 0), x_dir=(-1, 0, 0), z_dir=(0, -1, 0))):
        with Locations((-63.51713677, 0.890878468)):
            Rectangle(ESBO_O58_W, ESBO_O58_H)
    extrude(amount=RESSALTO_EXTRUS_O31_DEPTH)

    # Esboço49 → Corte-extrusão13 (cut)
    with BuildSketch(Plane(origin=(0, 5, 0), x_dir=(1, 0, 0), z_dir=(0, 1, 0))):
        with Locations(Location((63.38713677, 46.238185856, 0), (0, 0, 270))):
            Circle(ESBO_O49_R)
    extrude(amount=-CORTE_EXTRUS_O13_DEPTH, mode=Mode.SUBTRACT)

    # Esboço47 → Corte-extrusão14 (cut)
    with BuildSketch(Plane(origin=(0, 5, 0), x_dir=(1, 0, 0), z_dir=(0, 1, 0))):
        with Locations(Location((-96.61286323, 46.238185856, 0), (0, 0, 270))):
            Circle(ESBO_O47_R)
    extrude(amount=-CORTE_EXTRUS_O14_DEPTH, mode=Mode.SUBTRACT)

    # Esboço44 → Corte-extrusão15 (cut)
    with BuildSketch(Plane(origin=(0, 5, 0), x_dir=(1, 0, 0), z_dir=(0, 1, 0))):
        with Locations(Location((-96.61286323, -45.761814144, 0), (0, 0, 270))):
            Circle(ESBO_O44_R)
    extrude(amount=-CORTE_EXTRUS_O15_DEPTH, mode=Mode.SUBTRACT)

    # Esboço48 → Corte-extrusão16 (cut)
    with BuildSketch(Plane(origin=(0, 5, 0), x_dir=(1, 0, 0), z_dir=(0, 1, 0))):
        with Locations(Location((63.38713677, -45.761814144, 0), (0, 0, 270))):
            Circle(ESBO_O48_R)
    extrude(amount=-CORTE_EXTRUS_O16_DEPTH, mode=Mode.SUBTRACT)


solid = Compound([body_2.part, part_2.part])
